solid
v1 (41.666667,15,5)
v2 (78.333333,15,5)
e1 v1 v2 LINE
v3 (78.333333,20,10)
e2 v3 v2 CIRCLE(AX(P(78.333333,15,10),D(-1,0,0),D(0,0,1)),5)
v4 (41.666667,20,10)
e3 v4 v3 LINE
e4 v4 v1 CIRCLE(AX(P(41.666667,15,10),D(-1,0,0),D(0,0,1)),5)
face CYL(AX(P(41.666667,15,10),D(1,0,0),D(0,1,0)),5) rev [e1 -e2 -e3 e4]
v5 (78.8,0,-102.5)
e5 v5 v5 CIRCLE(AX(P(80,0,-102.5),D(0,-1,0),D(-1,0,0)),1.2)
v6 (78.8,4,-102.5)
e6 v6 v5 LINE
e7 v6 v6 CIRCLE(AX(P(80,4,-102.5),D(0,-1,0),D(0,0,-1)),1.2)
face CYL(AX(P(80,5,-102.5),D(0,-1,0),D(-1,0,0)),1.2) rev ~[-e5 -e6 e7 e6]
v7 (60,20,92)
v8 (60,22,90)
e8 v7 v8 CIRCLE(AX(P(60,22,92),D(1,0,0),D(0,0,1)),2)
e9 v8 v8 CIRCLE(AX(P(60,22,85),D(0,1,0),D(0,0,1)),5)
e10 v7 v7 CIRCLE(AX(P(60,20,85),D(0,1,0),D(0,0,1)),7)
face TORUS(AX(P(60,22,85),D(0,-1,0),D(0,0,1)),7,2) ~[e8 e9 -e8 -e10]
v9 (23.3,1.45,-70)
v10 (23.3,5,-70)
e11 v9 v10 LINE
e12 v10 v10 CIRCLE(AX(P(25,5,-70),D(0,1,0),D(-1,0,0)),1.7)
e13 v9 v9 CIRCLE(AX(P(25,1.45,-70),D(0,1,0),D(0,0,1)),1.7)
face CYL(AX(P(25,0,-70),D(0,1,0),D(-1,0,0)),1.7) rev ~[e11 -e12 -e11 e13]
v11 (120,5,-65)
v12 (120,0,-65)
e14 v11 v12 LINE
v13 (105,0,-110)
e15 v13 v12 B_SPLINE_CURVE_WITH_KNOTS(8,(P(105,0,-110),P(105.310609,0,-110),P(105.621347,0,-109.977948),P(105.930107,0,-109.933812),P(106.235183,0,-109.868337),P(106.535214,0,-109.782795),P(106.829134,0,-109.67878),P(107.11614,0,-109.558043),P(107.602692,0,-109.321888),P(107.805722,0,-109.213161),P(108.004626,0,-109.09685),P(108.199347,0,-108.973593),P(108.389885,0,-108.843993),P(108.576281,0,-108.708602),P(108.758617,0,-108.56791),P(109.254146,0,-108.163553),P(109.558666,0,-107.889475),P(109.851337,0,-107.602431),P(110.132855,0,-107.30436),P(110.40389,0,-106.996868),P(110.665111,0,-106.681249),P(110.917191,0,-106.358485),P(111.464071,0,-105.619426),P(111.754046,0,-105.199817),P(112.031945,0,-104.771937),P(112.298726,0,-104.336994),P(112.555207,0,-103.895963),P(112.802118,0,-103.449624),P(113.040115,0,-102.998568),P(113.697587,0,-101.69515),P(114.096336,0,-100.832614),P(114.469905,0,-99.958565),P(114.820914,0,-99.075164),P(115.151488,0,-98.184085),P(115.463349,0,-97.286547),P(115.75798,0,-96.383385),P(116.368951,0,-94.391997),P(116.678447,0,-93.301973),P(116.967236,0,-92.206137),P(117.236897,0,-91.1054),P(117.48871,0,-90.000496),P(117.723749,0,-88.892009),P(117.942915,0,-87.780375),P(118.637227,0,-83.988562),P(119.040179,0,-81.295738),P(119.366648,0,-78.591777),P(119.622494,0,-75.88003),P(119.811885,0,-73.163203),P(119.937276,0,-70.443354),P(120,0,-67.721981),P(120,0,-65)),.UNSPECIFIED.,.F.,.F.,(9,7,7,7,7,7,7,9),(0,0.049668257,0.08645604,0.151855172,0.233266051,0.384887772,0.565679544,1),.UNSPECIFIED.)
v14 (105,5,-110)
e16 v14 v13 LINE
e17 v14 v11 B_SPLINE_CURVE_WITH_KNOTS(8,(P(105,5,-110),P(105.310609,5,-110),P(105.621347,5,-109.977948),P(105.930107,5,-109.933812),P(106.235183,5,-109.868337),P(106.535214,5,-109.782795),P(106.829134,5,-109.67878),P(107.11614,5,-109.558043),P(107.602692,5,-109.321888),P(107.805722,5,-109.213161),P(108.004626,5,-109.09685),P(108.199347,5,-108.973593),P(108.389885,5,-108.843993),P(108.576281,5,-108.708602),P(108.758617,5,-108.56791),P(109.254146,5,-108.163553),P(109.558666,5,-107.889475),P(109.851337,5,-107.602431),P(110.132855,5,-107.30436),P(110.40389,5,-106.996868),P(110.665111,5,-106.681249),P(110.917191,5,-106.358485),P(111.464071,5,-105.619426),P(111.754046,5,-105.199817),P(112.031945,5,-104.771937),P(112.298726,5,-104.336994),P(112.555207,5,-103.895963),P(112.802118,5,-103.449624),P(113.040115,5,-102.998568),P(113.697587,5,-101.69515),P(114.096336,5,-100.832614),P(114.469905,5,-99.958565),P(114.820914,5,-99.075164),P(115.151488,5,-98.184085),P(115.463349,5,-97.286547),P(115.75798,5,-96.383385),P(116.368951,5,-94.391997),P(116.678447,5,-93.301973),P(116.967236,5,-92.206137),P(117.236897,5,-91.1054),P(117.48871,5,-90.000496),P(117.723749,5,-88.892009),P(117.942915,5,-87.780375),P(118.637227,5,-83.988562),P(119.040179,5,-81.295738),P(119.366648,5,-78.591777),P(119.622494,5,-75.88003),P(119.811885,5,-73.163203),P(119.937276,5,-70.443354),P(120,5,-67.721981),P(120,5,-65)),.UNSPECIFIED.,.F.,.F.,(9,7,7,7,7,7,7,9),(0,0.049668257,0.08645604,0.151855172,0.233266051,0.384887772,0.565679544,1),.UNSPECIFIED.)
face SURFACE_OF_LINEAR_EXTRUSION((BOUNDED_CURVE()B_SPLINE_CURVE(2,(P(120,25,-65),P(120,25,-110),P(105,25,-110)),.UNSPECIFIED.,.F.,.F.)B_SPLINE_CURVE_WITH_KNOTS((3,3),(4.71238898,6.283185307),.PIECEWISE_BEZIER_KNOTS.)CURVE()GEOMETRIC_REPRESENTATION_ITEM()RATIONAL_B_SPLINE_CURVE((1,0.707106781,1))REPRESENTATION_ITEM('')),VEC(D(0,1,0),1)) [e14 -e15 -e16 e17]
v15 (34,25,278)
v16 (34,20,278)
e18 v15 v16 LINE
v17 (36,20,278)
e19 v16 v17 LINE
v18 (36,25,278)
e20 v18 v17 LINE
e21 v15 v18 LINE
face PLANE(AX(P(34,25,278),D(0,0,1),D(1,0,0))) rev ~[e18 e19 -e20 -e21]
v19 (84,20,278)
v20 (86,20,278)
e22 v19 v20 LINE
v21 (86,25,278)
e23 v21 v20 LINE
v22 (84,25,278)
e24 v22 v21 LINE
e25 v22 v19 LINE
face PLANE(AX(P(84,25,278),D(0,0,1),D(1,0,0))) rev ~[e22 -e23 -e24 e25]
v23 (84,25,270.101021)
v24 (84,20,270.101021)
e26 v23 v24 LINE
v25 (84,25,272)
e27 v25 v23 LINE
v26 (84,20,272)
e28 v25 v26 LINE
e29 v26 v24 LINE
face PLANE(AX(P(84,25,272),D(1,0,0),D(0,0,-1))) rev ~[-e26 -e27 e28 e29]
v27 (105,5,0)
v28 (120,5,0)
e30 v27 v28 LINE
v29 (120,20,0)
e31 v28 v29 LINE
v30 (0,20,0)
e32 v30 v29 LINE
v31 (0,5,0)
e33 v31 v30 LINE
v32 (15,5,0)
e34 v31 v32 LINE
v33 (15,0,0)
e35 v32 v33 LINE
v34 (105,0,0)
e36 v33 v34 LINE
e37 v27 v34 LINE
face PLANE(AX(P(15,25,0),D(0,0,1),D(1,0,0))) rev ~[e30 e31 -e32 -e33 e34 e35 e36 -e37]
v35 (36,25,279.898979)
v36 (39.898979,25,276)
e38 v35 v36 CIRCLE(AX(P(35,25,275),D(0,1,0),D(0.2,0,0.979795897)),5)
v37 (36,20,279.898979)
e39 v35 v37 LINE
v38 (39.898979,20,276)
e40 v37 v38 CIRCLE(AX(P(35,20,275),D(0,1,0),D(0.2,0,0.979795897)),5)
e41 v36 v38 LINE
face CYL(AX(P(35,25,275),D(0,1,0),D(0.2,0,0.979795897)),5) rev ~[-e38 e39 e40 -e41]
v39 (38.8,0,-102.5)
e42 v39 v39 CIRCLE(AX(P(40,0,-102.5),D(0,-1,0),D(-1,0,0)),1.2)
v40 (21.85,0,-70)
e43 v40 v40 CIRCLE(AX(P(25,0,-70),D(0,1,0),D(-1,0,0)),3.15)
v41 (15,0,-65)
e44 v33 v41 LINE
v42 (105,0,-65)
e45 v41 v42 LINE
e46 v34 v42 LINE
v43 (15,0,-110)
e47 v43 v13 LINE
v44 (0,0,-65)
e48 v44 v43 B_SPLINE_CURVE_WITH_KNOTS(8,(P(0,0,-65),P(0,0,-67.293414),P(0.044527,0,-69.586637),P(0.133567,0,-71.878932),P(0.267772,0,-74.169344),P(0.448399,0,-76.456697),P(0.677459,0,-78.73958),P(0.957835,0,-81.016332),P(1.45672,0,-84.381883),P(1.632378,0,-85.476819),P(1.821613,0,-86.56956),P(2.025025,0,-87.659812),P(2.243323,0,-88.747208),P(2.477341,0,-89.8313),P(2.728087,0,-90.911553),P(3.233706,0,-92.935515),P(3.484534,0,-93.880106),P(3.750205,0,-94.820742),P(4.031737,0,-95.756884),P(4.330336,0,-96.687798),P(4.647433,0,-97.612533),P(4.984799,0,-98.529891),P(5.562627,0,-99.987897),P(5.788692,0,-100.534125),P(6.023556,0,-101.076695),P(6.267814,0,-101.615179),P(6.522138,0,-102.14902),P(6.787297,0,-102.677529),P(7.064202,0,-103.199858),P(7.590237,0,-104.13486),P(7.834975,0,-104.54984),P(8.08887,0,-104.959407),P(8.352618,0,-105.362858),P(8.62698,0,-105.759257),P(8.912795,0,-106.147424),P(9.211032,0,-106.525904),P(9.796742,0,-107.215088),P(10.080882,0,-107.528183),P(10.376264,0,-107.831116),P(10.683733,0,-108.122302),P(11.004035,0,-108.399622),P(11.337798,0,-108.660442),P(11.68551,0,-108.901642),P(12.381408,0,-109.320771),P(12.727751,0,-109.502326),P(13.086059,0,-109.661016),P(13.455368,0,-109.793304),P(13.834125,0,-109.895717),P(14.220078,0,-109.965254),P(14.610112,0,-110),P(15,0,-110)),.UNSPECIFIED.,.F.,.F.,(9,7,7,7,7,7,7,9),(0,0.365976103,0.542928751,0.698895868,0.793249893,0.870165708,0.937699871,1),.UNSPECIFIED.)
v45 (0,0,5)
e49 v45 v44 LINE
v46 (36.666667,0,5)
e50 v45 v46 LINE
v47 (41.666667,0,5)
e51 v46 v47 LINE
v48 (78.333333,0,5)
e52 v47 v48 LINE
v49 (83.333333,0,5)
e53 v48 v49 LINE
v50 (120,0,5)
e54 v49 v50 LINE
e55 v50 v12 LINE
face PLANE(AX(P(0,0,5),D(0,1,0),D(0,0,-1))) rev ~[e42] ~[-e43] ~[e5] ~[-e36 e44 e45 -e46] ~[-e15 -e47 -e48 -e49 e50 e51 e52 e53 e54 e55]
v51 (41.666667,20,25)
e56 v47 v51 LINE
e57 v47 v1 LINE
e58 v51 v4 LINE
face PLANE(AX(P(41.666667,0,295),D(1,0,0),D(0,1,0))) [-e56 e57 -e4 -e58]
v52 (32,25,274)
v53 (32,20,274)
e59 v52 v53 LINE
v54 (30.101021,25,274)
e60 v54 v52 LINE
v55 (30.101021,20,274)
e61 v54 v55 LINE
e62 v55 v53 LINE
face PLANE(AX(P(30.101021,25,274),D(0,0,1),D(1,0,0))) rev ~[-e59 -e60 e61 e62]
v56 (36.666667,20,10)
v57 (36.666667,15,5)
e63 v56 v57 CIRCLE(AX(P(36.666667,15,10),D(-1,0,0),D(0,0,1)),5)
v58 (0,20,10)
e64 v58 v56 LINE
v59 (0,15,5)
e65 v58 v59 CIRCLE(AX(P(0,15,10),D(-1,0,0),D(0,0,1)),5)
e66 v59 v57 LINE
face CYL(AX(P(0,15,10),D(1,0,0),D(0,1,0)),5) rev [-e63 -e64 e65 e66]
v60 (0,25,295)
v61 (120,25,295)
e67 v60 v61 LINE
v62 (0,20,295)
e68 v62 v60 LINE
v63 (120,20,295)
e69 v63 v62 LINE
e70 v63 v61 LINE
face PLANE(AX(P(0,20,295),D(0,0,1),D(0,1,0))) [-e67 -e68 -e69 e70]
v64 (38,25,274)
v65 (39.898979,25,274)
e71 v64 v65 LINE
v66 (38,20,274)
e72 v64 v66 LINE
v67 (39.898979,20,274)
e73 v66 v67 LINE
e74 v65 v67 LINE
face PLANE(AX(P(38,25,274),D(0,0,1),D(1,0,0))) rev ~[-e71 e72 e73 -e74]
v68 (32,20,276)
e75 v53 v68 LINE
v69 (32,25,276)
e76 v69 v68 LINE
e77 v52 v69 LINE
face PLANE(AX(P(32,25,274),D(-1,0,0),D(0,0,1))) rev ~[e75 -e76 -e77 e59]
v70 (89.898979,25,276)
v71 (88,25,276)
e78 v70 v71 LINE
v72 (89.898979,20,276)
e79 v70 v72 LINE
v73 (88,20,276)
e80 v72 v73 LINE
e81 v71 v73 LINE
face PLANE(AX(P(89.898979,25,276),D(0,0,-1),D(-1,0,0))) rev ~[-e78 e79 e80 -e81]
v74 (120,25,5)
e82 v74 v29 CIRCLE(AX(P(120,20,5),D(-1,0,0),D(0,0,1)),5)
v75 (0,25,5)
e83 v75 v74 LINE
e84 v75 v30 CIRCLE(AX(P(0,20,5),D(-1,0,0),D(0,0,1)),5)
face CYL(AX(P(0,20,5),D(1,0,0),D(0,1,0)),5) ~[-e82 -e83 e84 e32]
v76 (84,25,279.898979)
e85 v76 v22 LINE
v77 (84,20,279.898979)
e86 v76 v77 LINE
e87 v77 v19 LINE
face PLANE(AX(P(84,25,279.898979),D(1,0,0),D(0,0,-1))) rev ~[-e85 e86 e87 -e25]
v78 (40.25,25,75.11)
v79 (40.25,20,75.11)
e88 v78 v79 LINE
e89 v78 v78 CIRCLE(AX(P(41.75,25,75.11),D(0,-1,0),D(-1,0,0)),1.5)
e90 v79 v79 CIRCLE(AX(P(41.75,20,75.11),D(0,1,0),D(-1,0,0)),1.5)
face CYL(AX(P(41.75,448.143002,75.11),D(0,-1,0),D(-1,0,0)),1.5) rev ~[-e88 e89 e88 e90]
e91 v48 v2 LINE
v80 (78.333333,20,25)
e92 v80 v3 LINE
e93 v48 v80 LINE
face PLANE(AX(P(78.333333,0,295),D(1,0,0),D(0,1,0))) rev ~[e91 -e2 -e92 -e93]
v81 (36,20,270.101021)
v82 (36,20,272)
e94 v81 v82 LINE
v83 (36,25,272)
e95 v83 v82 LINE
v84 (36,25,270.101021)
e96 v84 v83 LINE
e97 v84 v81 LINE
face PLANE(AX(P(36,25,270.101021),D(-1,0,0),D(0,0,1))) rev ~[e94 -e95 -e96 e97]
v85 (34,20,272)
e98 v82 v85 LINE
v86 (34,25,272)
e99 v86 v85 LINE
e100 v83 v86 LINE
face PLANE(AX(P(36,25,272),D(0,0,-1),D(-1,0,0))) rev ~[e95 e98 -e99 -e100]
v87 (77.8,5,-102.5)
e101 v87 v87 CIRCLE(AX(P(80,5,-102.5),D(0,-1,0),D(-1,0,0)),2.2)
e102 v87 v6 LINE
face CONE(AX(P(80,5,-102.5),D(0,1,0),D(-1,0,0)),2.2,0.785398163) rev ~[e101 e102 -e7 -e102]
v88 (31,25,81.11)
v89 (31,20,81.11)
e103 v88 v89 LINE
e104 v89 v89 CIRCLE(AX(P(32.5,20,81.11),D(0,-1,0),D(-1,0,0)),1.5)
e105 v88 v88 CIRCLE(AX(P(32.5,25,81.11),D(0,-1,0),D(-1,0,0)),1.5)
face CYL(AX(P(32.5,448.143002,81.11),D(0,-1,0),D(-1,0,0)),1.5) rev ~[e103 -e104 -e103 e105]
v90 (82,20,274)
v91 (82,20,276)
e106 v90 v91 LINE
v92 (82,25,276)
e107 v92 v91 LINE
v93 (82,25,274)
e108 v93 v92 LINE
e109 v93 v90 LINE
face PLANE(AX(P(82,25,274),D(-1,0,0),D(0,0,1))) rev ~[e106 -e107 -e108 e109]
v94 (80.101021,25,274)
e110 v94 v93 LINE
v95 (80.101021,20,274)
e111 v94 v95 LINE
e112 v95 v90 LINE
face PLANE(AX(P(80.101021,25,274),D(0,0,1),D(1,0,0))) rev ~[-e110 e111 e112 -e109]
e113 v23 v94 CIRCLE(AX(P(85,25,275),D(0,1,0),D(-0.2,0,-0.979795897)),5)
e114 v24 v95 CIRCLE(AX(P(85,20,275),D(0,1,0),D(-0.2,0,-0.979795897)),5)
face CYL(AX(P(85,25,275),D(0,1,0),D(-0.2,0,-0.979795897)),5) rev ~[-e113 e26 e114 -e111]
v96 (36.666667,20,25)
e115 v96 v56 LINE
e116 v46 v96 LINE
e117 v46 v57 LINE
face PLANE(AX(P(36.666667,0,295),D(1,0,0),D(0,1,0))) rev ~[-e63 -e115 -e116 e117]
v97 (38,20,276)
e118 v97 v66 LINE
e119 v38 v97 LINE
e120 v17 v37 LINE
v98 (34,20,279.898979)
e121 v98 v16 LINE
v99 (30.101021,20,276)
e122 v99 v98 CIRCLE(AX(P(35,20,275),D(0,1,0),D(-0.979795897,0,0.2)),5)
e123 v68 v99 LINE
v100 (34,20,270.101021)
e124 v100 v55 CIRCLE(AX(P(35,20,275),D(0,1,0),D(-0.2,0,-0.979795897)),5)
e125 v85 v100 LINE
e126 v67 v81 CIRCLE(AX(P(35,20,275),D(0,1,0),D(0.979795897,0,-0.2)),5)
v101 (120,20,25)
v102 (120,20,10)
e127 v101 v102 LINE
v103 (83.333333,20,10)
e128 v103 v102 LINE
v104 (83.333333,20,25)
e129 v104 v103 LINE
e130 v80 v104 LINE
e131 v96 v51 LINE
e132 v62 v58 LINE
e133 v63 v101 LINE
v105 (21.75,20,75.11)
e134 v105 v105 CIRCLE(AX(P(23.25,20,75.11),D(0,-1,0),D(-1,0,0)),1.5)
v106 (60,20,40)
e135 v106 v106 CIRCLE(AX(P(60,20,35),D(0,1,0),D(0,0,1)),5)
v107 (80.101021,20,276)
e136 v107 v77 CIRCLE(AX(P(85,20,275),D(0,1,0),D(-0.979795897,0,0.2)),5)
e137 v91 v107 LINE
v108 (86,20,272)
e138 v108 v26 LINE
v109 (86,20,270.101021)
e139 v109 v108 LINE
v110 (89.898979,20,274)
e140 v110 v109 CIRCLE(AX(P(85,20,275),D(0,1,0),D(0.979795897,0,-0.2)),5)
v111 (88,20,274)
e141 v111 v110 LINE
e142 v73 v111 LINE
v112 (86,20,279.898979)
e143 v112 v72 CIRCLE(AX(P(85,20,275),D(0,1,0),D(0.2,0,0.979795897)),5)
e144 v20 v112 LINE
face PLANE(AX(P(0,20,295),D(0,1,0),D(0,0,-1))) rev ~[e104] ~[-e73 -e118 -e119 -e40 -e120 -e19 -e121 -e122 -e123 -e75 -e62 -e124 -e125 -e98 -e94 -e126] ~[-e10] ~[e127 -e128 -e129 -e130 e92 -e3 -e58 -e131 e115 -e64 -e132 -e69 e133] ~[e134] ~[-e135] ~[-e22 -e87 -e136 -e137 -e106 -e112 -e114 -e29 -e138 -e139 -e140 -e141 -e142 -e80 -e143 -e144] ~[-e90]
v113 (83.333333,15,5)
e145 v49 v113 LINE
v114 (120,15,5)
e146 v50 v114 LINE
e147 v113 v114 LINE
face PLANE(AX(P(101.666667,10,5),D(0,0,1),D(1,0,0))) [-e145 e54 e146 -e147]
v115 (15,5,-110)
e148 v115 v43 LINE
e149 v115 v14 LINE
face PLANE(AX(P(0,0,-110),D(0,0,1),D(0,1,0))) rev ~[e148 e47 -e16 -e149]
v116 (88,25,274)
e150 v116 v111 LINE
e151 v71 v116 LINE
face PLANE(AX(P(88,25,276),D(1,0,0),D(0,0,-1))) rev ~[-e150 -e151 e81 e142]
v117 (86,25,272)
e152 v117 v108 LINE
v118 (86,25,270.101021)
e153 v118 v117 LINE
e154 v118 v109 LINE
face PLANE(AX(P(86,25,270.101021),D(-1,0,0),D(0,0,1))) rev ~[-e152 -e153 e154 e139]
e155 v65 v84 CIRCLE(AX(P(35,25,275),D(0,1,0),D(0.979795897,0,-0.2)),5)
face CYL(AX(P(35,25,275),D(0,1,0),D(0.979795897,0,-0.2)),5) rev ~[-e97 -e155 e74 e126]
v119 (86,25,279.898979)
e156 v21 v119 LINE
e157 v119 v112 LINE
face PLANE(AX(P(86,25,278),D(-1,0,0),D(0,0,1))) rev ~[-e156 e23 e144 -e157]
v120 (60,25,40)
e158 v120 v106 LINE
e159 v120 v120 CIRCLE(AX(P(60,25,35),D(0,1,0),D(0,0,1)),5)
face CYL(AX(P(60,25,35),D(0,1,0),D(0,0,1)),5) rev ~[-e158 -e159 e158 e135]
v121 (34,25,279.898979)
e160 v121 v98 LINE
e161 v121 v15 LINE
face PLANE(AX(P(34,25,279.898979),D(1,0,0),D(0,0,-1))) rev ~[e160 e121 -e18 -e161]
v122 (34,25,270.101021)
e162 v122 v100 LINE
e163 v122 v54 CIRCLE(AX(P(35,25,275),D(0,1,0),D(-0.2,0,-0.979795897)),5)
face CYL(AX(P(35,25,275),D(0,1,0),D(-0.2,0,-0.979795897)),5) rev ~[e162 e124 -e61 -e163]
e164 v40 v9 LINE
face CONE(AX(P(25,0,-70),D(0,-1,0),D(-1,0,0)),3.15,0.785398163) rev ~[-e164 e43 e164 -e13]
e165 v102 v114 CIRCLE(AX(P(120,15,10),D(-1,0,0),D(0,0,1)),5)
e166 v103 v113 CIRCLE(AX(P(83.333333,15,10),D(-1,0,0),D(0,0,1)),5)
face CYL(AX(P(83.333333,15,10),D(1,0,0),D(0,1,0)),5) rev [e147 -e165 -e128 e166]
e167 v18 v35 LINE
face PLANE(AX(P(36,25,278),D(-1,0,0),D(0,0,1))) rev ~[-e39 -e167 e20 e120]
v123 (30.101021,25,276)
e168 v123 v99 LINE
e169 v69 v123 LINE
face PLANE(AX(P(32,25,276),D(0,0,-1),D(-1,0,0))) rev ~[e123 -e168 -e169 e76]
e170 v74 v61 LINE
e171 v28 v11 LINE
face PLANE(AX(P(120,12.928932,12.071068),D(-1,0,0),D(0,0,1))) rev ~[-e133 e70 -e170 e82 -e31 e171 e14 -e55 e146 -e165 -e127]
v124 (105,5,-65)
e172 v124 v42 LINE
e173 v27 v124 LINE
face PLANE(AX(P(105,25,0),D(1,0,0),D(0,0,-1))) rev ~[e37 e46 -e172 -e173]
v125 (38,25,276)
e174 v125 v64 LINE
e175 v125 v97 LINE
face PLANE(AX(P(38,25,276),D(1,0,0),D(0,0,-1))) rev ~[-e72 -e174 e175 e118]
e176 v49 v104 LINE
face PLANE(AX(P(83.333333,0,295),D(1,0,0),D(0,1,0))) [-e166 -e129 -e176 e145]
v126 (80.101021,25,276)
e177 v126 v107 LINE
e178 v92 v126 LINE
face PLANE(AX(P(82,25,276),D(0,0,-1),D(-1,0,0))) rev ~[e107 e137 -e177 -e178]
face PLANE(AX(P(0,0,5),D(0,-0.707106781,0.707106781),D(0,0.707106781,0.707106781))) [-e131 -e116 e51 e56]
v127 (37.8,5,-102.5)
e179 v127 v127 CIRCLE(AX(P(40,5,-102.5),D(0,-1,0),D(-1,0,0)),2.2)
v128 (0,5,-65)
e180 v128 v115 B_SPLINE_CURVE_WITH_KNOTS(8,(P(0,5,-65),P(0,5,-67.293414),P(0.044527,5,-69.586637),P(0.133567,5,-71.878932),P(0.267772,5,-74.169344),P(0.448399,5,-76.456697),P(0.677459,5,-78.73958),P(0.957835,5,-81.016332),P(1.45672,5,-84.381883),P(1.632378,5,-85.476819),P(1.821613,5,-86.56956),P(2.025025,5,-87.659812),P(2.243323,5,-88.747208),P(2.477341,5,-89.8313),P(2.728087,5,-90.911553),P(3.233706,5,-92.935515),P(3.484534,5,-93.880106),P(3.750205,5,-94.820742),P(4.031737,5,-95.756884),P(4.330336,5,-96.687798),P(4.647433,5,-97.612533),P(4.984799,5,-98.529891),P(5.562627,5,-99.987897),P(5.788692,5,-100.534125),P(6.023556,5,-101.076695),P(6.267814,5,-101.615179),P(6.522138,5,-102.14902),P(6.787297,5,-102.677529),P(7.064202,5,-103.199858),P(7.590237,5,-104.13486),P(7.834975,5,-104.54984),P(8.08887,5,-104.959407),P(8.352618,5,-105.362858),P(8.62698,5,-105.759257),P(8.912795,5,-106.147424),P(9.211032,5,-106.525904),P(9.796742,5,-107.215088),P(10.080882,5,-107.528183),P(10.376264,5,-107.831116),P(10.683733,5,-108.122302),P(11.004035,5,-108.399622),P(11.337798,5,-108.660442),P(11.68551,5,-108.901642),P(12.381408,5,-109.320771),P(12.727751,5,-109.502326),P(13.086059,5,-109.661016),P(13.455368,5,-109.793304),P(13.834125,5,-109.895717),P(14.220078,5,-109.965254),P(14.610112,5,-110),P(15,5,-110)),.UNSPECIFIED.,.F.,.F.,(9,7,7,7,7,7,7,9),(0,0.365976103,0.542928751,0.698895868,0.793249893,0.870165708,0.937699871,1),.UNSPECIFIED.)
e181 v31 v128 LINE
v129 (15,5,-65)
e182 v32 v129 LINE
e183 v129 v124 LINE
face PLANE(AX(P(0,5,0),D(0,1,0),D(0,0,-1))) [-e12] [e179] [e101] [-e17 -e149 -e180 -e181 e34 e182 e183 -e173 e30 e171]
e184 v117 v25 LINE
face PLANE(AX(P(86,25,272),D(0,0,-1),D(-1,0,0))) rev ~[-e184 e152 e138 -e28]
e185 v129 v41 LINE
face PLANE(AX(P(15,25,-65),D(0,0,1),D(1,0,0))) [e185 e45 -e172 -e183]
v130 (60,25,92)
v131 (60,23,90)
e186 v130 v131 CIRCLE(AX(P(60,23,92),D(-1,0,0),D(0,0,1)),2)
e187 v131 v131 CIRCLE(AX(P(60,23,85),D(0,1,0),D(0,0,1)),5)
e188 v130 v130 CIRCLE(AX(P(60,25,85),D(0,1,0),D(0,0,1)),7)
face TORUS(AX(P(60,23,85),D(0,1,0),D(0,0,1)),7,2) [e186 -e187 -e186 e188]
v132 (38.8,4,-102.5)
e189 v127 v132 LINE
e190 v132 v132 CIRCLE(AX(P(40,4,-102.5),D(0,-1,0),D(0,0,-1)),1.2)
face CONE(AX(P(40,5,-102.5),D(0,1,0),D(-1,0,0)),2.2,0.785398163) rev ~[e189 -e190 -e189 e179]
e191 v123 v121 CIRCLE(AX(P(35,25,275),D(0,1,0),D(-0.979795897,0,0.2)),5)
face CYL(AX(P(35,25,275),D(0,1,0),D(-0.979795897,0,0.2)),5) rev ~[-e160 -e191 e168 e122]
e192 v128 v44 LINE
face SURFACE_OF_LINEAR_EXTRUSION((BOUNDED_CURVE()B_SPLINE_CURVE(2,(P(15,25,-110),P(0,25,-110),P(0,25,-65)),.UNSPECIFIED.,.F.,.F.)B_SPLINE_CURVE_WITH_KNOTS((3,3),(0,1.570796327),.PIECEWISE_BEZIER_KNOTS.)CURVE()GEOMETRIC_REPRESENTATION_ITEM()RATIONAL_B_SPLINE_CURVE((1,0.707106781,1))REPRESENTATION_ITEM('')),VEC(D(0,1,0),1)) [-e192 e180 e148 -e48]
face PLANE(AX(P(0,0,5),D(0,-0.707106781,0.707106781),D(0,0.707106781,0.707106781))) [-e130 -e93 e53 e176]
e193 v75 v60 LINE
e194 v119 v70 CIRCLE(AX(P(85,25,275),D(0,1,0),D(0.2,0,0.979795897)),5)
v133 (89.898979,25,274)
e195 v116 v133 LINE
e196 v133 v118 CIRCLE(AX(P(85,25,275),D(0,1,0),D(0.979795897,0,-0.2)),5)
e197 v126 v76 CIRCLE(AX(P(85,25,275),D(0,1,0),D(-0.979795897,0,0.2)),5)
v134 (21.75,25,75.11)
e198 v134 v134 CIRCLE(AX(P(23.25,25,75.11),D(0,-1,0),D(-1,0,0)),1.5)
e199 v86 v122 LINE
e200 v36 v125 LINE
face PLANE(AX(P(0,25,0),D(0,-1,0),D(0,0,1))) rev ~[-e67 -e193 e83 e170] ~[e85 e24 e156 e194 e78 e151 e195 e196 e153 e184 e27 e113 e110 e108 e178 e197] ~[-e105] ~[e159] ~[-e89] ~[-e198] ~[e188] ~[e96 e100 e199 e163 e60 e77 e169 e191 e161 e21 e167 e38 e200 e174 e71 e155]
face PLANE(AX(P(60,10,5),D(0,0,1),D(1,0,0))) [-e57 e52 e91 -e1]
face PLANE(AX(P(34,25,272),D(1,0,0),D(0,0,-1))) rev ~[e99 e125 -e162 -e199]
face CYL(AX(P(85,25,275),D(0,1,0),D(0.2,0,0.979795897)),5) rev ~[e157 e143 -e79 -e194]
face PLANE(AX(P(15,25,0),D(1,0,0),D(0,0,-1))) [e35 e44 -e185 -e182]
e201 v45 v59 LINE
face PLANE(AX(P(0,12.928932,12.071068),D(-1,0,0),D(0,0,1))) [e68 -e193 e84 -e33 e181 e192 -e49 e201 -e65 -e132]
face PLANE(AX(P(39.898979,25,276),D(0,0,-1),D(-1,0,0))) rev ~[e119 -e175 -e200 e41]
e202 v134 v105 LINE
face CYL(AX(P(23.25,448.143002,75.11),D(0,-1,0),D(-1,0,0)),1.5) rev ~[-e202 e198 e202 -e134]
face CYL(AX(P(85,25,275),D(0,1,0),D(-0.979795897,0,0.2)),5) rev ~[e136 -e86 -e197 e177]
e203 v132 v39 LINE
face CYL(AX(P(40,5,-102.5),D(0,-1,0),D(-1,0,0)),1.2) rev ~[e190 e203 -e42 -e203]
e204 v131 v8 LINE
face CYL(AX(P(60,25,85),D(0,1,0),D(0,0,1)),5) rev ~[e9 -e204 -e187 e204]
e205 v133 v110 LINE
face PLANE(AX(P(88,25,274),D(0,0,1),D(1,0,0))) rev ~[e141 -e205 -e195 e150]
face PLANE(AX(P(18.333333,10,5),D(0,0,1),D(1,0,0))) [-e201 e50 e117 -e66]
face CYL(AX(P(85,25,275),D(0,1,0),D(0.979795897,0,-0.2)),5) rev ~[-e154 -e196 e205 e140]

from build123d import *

# Parameters (mm, degrees)
SKETCH1_W                                       = 5
SKETCH1_H                                       = 25
SKETCH1_W_2                                     = 110
SKETCH1_H_2                                     = 5
SKETCH1_W_3                                     = 290
BOSS_EXTRUDE1_DEPTH                             = 120
SKETCH2_W                                       = 90
SKETCH2_H                                       = 65
SKETCH2_R                                       = 5
CUT_EXTRUDE1_DEPTH                              = 320.452656899
CSK_FOR_M2_FLAT_HEAD_MACHINE_SCREW1_D           = 2.4
CSK_FOR_M2_FLAT_HEAD_MACHINE_SCREW1_CSINK_D     = 4.4
CSK_FOR_M2_FLAT_HEAD_MACHINE_SCREW1_CSINK_ANGLE = 90
F_3_0MM_DOWEL_HOLE1_D                           = 3
BOSS_EXTRUDE2_DEPTH                             = 120
SKETCH10_W                                      = 36.666666667
SKETCH10_H                                      = 20
SKETCH10_W_2                                    = 36.666666666
CUT_EXTRUDE2_DEPTH                              = 290
FILLET1_R                                       = 5
CSK_FOR_M3_FLAT_HEAD_MACHINE_SCREW1_D           = 3.4
CSK_FOR_M3_FLAT_HEAD_MACHINE_SCREW1_DEPTH       = 5
CSK_FOR_M3_FLAT_HEAD_MACHINE_SCREW1_CSINK_D     = 6.3
CSK_FOR_M3_FLAT_HEAD_MACHINE_SCREW1_CSINK_ANGLE = 90
CSK_FOR_M3_FLAT_HEAD_MACHINE_SCREW1_TIP         = 1.021463052
FILLET2_R                                       = 2


with BuildPart() as part:
    # Sketch1 → Boss-Extrude1 (new body)
    with BuildSketch(Plane(origin=(0, 0, 0), x_dir=(0, 0, -1), z_dir=(1, 0, 0))):
        with Locations((-2.5, 12.5)):
            Rectangle(SKETCH1_W, SKETCH1_H)
        with Locations((55, 2.5)):
            Rectangle(SKETCH1_W_2, SKETCH1_H_2)
        with Locations((-150, 22.5)):
            Rectangle(SKETCH1_W_3, SKETCH1_H_2)
    extrude(amount=BOSS_EXTRUDE1_DEPTH)

    # Sketch2 → Cut-Extrude1 (cut, through all)
    with BuildSketch(Plane(origin=(0, 25, 0), x_dir=(1, 0, 0), z_dir=(0, 1, 0))):
        with BuildLine():
            Line((34, -272), (34, -270.101020514))
            ThreePointArc((34, -270.101020514), (31.464466094, -271.464466094), (30.101020514, -274))
            Line((30.101020514, -274), (32, -274))
            Line((32, -274), (32, -276))
            Line((32, -276), (30.101020514, -276))
            ThreePointArc((30.101020514, -276), (31.464466094, -278.535533906), (34, -279.898979486))
            Line((34, -279.898979486), (34, -278))
            Line((34, -278), (36, -278))
            Line((36, -278), (36, -279.898979486))
            ThreePointArc((36, -279.898979486), (38.535533906, -278.535533906), (39.898979486, -276))
            Line((39.898979486, -276), (38, -276))
            Line((38, -276), (38, -274))
            Line((38, -274), (39.898979486, -274))
            ThreePointArc((39.898979486, -274), (38.535533906, -271.464466094), (36, -270.101020514))
            Line((36, -270.101020514), (36, -272))
            Line((36, -272), (34, -272))
        make_face()
        with BuildLine():
            Line((84, -272), (84, -270.101020514))
            ThreePointArc((84, -270.101020514), (81.464466094, -271.464466094), (80.101020514, -274))
            Line((80.101020514, -274), (82, -274))
            Line((82, -274), (82, -276))
            Line((82, -276), (80.101020514, -276))
            ThreePointArc((80.101020514, -276), (81.464466094, -278.535533906), (84, -279.898979486))
            Line((84, -279.898979486), (84, -278))
            Line((84, -278), (86, -278))
            Line((86, -278), (86, -279.898979486))
            ThreePointArc((86, -279.898979486), (88.535533906, -278.535533906), (89.898979486, -276))
            Line((89.898979486, -276), (88, -276))
            Line((88, -276), (88, -274))
            Line((88, -274), (89.898979486, -274))
            ThreePointArc((89.898979486, -274), (88.535533906, -271.464466094), (86, -270.101020514))
            Line((86, -270.101020514), (86, -272))
            Line((86, -272), (84, -272))
        make_face()
        with Locations((60, 32.5)):
            Rectangle(SKETCH2_W, SKETCH2_H)
        with BuildLine():
            Line((-14.667196701, 131.62219227), (15, 110))
            add(Edge.make_bspline(
                [(15, 110), (0, 110), (0, 65)],
                knots=[0, 0, 0, 1.570796327, 1.570796327, 1.570796327], degree=2, weights=[1, 0.707106781, 1]))
            Line((0, 65), (-14.667196701, 131.62219227))
        make_face()
        with BuildLine():
            add(Edge.make_bspline(
                [(120, 65), (120, 110), (105, 110)],
                knots=[4.71238898, 4.71238898, 4.71238898, 6.283185307, 6.283185307, 6.283185307], degree=2, weights=[1, 0.707106781, 1]))
            Line((105, 110), (141.916619914, 126.007078186))
            Line((141.916619914, 126.007078186), (120, 65))
        make_face()
        with Locations(Location((60, -35, 0), (0, 0, 270))):
            Circle(SKETCH2_R)
        with Locations(Location((60, -85, 0), (0, 0, 270))):
            Circle(SKETCH2_R)
    extrude(amount=-CUT_EXTRUDE1_DEPTH, mode=Mode.SUBTRACT)

    # CSK for M2 Flat Head Machine Screw1 (through all)
    with Locations(Plane(origin=(0, 5, 0), x_dir=(1, 0, 0), z_dir=(0, 1, 0))):
        with Locations((40, 102.5), (80, 102.5)):
            CounterSinkHole(CSK_FOR_M2_FLAT_HEAD_MACHINE_SCREW1_D / 2, CSK_FOR_M2_FLAT_HEAD_MACHINE_SCREW1_CSINK_D / 2, counter_sink_angle=CSK_FOR_M2_FLAT_HEAD_MACHINE_SCREW1_CSINK_ANGLE)

    # Ø3.0mm Dowel Hole1 (through all)
    with Locations(Plane(origin=(0, 25, 0), x_dir=(1, 0, 0), z_dir=(0, 1, 0))):
        with Locations((23.25, -75.11), (32.5, -81.11), (41.75, -75.11)):
            Hole(F_3_0MM_DOWEL_HOLE1_D / 2)

    # Sketch9 → Boss-Extrude2 (add)
    with BuildSketch(Plane.ZY):
        Polygon((5, 0), (25, 20), (5, 20), align=None)
    extrude(amount=-BOSS_EXTRUDE2_DEPTH)

    # Sketch10 → Cut-Extrude2 (cut)
    with BuildSketch(Plane.XY.offset(295)):
        with Locations((18.333333334, 10)):
            Rectangle(SKETCH10_W, SKETCH10_H)
        with Locations((60, 10)):
            Rectangle(SKETCH10_W_2, SKETCH10_H)
        with Locations((101.666666667, 10)):
            Rectangle(SKETCH10_W, SKETCH10_H)
    extrude(amount=-CUT_EXTRUDE2_DEPTH, mode=Mode.SUBTRACT)

    # Fillet1
    fillet1_edges = [part.edges().sort_by_distance(p)[0] for p in [
        (60, 25, 0),
        (18.333333333, 20, 5),
        (60, 20, 5),
        (101.666666667, 20, 5),
    ]]
    fillet(fillet1_edges, radius=FILLET1_R)

    # CSK for M3 Flat Head Machine Screw1
    with Locations(Plane.XZ):
        with Locations((25, -70)):
            CounterSinkHole(CSK_FOR_M3_FLAT_HEAD_MACHINE_SCREW1_D / 2, CSK_FOR_M3_FLAT_HEAD_MACHINE_SCREW1_CSINK_D / 2, depth=CSK_FOR_M3_FLAT_HEAD_MACHINE_SCREW1_DEPTH, counter_sink_angle=CSK_FOR_M3_FLAT_HEAD_MACHINE_SCREW1_CSINK_ANGLE)
            with Locations((0, 0, -(CSK_FOR_M3_FLAT_HEAD_MACHINE_SCREW1_DEPTH + CSK_FOR_M3_FLAT_HEAD_MACHINE_SCREW1_TIP / 2))):  # 118° drill point
                Cone(0, CSK_FOR_M3_FLAT_HEAD_MACHINE_SCREW1_D / 2, CSK_FOR_M3_FLAT_HEAD_MACHINE_SCREW1_TIP, mode=Mode.SUBTRACT)

    # Fillet2
    fillet2_edges = [part.edges().sort_by_distance(p)[0] for p in [
        (60, 20, 80),
        (60, 25, 80),
    ]]
    fillet(fillet2_edges, radius=FILLET2_R)


solid = part.part
